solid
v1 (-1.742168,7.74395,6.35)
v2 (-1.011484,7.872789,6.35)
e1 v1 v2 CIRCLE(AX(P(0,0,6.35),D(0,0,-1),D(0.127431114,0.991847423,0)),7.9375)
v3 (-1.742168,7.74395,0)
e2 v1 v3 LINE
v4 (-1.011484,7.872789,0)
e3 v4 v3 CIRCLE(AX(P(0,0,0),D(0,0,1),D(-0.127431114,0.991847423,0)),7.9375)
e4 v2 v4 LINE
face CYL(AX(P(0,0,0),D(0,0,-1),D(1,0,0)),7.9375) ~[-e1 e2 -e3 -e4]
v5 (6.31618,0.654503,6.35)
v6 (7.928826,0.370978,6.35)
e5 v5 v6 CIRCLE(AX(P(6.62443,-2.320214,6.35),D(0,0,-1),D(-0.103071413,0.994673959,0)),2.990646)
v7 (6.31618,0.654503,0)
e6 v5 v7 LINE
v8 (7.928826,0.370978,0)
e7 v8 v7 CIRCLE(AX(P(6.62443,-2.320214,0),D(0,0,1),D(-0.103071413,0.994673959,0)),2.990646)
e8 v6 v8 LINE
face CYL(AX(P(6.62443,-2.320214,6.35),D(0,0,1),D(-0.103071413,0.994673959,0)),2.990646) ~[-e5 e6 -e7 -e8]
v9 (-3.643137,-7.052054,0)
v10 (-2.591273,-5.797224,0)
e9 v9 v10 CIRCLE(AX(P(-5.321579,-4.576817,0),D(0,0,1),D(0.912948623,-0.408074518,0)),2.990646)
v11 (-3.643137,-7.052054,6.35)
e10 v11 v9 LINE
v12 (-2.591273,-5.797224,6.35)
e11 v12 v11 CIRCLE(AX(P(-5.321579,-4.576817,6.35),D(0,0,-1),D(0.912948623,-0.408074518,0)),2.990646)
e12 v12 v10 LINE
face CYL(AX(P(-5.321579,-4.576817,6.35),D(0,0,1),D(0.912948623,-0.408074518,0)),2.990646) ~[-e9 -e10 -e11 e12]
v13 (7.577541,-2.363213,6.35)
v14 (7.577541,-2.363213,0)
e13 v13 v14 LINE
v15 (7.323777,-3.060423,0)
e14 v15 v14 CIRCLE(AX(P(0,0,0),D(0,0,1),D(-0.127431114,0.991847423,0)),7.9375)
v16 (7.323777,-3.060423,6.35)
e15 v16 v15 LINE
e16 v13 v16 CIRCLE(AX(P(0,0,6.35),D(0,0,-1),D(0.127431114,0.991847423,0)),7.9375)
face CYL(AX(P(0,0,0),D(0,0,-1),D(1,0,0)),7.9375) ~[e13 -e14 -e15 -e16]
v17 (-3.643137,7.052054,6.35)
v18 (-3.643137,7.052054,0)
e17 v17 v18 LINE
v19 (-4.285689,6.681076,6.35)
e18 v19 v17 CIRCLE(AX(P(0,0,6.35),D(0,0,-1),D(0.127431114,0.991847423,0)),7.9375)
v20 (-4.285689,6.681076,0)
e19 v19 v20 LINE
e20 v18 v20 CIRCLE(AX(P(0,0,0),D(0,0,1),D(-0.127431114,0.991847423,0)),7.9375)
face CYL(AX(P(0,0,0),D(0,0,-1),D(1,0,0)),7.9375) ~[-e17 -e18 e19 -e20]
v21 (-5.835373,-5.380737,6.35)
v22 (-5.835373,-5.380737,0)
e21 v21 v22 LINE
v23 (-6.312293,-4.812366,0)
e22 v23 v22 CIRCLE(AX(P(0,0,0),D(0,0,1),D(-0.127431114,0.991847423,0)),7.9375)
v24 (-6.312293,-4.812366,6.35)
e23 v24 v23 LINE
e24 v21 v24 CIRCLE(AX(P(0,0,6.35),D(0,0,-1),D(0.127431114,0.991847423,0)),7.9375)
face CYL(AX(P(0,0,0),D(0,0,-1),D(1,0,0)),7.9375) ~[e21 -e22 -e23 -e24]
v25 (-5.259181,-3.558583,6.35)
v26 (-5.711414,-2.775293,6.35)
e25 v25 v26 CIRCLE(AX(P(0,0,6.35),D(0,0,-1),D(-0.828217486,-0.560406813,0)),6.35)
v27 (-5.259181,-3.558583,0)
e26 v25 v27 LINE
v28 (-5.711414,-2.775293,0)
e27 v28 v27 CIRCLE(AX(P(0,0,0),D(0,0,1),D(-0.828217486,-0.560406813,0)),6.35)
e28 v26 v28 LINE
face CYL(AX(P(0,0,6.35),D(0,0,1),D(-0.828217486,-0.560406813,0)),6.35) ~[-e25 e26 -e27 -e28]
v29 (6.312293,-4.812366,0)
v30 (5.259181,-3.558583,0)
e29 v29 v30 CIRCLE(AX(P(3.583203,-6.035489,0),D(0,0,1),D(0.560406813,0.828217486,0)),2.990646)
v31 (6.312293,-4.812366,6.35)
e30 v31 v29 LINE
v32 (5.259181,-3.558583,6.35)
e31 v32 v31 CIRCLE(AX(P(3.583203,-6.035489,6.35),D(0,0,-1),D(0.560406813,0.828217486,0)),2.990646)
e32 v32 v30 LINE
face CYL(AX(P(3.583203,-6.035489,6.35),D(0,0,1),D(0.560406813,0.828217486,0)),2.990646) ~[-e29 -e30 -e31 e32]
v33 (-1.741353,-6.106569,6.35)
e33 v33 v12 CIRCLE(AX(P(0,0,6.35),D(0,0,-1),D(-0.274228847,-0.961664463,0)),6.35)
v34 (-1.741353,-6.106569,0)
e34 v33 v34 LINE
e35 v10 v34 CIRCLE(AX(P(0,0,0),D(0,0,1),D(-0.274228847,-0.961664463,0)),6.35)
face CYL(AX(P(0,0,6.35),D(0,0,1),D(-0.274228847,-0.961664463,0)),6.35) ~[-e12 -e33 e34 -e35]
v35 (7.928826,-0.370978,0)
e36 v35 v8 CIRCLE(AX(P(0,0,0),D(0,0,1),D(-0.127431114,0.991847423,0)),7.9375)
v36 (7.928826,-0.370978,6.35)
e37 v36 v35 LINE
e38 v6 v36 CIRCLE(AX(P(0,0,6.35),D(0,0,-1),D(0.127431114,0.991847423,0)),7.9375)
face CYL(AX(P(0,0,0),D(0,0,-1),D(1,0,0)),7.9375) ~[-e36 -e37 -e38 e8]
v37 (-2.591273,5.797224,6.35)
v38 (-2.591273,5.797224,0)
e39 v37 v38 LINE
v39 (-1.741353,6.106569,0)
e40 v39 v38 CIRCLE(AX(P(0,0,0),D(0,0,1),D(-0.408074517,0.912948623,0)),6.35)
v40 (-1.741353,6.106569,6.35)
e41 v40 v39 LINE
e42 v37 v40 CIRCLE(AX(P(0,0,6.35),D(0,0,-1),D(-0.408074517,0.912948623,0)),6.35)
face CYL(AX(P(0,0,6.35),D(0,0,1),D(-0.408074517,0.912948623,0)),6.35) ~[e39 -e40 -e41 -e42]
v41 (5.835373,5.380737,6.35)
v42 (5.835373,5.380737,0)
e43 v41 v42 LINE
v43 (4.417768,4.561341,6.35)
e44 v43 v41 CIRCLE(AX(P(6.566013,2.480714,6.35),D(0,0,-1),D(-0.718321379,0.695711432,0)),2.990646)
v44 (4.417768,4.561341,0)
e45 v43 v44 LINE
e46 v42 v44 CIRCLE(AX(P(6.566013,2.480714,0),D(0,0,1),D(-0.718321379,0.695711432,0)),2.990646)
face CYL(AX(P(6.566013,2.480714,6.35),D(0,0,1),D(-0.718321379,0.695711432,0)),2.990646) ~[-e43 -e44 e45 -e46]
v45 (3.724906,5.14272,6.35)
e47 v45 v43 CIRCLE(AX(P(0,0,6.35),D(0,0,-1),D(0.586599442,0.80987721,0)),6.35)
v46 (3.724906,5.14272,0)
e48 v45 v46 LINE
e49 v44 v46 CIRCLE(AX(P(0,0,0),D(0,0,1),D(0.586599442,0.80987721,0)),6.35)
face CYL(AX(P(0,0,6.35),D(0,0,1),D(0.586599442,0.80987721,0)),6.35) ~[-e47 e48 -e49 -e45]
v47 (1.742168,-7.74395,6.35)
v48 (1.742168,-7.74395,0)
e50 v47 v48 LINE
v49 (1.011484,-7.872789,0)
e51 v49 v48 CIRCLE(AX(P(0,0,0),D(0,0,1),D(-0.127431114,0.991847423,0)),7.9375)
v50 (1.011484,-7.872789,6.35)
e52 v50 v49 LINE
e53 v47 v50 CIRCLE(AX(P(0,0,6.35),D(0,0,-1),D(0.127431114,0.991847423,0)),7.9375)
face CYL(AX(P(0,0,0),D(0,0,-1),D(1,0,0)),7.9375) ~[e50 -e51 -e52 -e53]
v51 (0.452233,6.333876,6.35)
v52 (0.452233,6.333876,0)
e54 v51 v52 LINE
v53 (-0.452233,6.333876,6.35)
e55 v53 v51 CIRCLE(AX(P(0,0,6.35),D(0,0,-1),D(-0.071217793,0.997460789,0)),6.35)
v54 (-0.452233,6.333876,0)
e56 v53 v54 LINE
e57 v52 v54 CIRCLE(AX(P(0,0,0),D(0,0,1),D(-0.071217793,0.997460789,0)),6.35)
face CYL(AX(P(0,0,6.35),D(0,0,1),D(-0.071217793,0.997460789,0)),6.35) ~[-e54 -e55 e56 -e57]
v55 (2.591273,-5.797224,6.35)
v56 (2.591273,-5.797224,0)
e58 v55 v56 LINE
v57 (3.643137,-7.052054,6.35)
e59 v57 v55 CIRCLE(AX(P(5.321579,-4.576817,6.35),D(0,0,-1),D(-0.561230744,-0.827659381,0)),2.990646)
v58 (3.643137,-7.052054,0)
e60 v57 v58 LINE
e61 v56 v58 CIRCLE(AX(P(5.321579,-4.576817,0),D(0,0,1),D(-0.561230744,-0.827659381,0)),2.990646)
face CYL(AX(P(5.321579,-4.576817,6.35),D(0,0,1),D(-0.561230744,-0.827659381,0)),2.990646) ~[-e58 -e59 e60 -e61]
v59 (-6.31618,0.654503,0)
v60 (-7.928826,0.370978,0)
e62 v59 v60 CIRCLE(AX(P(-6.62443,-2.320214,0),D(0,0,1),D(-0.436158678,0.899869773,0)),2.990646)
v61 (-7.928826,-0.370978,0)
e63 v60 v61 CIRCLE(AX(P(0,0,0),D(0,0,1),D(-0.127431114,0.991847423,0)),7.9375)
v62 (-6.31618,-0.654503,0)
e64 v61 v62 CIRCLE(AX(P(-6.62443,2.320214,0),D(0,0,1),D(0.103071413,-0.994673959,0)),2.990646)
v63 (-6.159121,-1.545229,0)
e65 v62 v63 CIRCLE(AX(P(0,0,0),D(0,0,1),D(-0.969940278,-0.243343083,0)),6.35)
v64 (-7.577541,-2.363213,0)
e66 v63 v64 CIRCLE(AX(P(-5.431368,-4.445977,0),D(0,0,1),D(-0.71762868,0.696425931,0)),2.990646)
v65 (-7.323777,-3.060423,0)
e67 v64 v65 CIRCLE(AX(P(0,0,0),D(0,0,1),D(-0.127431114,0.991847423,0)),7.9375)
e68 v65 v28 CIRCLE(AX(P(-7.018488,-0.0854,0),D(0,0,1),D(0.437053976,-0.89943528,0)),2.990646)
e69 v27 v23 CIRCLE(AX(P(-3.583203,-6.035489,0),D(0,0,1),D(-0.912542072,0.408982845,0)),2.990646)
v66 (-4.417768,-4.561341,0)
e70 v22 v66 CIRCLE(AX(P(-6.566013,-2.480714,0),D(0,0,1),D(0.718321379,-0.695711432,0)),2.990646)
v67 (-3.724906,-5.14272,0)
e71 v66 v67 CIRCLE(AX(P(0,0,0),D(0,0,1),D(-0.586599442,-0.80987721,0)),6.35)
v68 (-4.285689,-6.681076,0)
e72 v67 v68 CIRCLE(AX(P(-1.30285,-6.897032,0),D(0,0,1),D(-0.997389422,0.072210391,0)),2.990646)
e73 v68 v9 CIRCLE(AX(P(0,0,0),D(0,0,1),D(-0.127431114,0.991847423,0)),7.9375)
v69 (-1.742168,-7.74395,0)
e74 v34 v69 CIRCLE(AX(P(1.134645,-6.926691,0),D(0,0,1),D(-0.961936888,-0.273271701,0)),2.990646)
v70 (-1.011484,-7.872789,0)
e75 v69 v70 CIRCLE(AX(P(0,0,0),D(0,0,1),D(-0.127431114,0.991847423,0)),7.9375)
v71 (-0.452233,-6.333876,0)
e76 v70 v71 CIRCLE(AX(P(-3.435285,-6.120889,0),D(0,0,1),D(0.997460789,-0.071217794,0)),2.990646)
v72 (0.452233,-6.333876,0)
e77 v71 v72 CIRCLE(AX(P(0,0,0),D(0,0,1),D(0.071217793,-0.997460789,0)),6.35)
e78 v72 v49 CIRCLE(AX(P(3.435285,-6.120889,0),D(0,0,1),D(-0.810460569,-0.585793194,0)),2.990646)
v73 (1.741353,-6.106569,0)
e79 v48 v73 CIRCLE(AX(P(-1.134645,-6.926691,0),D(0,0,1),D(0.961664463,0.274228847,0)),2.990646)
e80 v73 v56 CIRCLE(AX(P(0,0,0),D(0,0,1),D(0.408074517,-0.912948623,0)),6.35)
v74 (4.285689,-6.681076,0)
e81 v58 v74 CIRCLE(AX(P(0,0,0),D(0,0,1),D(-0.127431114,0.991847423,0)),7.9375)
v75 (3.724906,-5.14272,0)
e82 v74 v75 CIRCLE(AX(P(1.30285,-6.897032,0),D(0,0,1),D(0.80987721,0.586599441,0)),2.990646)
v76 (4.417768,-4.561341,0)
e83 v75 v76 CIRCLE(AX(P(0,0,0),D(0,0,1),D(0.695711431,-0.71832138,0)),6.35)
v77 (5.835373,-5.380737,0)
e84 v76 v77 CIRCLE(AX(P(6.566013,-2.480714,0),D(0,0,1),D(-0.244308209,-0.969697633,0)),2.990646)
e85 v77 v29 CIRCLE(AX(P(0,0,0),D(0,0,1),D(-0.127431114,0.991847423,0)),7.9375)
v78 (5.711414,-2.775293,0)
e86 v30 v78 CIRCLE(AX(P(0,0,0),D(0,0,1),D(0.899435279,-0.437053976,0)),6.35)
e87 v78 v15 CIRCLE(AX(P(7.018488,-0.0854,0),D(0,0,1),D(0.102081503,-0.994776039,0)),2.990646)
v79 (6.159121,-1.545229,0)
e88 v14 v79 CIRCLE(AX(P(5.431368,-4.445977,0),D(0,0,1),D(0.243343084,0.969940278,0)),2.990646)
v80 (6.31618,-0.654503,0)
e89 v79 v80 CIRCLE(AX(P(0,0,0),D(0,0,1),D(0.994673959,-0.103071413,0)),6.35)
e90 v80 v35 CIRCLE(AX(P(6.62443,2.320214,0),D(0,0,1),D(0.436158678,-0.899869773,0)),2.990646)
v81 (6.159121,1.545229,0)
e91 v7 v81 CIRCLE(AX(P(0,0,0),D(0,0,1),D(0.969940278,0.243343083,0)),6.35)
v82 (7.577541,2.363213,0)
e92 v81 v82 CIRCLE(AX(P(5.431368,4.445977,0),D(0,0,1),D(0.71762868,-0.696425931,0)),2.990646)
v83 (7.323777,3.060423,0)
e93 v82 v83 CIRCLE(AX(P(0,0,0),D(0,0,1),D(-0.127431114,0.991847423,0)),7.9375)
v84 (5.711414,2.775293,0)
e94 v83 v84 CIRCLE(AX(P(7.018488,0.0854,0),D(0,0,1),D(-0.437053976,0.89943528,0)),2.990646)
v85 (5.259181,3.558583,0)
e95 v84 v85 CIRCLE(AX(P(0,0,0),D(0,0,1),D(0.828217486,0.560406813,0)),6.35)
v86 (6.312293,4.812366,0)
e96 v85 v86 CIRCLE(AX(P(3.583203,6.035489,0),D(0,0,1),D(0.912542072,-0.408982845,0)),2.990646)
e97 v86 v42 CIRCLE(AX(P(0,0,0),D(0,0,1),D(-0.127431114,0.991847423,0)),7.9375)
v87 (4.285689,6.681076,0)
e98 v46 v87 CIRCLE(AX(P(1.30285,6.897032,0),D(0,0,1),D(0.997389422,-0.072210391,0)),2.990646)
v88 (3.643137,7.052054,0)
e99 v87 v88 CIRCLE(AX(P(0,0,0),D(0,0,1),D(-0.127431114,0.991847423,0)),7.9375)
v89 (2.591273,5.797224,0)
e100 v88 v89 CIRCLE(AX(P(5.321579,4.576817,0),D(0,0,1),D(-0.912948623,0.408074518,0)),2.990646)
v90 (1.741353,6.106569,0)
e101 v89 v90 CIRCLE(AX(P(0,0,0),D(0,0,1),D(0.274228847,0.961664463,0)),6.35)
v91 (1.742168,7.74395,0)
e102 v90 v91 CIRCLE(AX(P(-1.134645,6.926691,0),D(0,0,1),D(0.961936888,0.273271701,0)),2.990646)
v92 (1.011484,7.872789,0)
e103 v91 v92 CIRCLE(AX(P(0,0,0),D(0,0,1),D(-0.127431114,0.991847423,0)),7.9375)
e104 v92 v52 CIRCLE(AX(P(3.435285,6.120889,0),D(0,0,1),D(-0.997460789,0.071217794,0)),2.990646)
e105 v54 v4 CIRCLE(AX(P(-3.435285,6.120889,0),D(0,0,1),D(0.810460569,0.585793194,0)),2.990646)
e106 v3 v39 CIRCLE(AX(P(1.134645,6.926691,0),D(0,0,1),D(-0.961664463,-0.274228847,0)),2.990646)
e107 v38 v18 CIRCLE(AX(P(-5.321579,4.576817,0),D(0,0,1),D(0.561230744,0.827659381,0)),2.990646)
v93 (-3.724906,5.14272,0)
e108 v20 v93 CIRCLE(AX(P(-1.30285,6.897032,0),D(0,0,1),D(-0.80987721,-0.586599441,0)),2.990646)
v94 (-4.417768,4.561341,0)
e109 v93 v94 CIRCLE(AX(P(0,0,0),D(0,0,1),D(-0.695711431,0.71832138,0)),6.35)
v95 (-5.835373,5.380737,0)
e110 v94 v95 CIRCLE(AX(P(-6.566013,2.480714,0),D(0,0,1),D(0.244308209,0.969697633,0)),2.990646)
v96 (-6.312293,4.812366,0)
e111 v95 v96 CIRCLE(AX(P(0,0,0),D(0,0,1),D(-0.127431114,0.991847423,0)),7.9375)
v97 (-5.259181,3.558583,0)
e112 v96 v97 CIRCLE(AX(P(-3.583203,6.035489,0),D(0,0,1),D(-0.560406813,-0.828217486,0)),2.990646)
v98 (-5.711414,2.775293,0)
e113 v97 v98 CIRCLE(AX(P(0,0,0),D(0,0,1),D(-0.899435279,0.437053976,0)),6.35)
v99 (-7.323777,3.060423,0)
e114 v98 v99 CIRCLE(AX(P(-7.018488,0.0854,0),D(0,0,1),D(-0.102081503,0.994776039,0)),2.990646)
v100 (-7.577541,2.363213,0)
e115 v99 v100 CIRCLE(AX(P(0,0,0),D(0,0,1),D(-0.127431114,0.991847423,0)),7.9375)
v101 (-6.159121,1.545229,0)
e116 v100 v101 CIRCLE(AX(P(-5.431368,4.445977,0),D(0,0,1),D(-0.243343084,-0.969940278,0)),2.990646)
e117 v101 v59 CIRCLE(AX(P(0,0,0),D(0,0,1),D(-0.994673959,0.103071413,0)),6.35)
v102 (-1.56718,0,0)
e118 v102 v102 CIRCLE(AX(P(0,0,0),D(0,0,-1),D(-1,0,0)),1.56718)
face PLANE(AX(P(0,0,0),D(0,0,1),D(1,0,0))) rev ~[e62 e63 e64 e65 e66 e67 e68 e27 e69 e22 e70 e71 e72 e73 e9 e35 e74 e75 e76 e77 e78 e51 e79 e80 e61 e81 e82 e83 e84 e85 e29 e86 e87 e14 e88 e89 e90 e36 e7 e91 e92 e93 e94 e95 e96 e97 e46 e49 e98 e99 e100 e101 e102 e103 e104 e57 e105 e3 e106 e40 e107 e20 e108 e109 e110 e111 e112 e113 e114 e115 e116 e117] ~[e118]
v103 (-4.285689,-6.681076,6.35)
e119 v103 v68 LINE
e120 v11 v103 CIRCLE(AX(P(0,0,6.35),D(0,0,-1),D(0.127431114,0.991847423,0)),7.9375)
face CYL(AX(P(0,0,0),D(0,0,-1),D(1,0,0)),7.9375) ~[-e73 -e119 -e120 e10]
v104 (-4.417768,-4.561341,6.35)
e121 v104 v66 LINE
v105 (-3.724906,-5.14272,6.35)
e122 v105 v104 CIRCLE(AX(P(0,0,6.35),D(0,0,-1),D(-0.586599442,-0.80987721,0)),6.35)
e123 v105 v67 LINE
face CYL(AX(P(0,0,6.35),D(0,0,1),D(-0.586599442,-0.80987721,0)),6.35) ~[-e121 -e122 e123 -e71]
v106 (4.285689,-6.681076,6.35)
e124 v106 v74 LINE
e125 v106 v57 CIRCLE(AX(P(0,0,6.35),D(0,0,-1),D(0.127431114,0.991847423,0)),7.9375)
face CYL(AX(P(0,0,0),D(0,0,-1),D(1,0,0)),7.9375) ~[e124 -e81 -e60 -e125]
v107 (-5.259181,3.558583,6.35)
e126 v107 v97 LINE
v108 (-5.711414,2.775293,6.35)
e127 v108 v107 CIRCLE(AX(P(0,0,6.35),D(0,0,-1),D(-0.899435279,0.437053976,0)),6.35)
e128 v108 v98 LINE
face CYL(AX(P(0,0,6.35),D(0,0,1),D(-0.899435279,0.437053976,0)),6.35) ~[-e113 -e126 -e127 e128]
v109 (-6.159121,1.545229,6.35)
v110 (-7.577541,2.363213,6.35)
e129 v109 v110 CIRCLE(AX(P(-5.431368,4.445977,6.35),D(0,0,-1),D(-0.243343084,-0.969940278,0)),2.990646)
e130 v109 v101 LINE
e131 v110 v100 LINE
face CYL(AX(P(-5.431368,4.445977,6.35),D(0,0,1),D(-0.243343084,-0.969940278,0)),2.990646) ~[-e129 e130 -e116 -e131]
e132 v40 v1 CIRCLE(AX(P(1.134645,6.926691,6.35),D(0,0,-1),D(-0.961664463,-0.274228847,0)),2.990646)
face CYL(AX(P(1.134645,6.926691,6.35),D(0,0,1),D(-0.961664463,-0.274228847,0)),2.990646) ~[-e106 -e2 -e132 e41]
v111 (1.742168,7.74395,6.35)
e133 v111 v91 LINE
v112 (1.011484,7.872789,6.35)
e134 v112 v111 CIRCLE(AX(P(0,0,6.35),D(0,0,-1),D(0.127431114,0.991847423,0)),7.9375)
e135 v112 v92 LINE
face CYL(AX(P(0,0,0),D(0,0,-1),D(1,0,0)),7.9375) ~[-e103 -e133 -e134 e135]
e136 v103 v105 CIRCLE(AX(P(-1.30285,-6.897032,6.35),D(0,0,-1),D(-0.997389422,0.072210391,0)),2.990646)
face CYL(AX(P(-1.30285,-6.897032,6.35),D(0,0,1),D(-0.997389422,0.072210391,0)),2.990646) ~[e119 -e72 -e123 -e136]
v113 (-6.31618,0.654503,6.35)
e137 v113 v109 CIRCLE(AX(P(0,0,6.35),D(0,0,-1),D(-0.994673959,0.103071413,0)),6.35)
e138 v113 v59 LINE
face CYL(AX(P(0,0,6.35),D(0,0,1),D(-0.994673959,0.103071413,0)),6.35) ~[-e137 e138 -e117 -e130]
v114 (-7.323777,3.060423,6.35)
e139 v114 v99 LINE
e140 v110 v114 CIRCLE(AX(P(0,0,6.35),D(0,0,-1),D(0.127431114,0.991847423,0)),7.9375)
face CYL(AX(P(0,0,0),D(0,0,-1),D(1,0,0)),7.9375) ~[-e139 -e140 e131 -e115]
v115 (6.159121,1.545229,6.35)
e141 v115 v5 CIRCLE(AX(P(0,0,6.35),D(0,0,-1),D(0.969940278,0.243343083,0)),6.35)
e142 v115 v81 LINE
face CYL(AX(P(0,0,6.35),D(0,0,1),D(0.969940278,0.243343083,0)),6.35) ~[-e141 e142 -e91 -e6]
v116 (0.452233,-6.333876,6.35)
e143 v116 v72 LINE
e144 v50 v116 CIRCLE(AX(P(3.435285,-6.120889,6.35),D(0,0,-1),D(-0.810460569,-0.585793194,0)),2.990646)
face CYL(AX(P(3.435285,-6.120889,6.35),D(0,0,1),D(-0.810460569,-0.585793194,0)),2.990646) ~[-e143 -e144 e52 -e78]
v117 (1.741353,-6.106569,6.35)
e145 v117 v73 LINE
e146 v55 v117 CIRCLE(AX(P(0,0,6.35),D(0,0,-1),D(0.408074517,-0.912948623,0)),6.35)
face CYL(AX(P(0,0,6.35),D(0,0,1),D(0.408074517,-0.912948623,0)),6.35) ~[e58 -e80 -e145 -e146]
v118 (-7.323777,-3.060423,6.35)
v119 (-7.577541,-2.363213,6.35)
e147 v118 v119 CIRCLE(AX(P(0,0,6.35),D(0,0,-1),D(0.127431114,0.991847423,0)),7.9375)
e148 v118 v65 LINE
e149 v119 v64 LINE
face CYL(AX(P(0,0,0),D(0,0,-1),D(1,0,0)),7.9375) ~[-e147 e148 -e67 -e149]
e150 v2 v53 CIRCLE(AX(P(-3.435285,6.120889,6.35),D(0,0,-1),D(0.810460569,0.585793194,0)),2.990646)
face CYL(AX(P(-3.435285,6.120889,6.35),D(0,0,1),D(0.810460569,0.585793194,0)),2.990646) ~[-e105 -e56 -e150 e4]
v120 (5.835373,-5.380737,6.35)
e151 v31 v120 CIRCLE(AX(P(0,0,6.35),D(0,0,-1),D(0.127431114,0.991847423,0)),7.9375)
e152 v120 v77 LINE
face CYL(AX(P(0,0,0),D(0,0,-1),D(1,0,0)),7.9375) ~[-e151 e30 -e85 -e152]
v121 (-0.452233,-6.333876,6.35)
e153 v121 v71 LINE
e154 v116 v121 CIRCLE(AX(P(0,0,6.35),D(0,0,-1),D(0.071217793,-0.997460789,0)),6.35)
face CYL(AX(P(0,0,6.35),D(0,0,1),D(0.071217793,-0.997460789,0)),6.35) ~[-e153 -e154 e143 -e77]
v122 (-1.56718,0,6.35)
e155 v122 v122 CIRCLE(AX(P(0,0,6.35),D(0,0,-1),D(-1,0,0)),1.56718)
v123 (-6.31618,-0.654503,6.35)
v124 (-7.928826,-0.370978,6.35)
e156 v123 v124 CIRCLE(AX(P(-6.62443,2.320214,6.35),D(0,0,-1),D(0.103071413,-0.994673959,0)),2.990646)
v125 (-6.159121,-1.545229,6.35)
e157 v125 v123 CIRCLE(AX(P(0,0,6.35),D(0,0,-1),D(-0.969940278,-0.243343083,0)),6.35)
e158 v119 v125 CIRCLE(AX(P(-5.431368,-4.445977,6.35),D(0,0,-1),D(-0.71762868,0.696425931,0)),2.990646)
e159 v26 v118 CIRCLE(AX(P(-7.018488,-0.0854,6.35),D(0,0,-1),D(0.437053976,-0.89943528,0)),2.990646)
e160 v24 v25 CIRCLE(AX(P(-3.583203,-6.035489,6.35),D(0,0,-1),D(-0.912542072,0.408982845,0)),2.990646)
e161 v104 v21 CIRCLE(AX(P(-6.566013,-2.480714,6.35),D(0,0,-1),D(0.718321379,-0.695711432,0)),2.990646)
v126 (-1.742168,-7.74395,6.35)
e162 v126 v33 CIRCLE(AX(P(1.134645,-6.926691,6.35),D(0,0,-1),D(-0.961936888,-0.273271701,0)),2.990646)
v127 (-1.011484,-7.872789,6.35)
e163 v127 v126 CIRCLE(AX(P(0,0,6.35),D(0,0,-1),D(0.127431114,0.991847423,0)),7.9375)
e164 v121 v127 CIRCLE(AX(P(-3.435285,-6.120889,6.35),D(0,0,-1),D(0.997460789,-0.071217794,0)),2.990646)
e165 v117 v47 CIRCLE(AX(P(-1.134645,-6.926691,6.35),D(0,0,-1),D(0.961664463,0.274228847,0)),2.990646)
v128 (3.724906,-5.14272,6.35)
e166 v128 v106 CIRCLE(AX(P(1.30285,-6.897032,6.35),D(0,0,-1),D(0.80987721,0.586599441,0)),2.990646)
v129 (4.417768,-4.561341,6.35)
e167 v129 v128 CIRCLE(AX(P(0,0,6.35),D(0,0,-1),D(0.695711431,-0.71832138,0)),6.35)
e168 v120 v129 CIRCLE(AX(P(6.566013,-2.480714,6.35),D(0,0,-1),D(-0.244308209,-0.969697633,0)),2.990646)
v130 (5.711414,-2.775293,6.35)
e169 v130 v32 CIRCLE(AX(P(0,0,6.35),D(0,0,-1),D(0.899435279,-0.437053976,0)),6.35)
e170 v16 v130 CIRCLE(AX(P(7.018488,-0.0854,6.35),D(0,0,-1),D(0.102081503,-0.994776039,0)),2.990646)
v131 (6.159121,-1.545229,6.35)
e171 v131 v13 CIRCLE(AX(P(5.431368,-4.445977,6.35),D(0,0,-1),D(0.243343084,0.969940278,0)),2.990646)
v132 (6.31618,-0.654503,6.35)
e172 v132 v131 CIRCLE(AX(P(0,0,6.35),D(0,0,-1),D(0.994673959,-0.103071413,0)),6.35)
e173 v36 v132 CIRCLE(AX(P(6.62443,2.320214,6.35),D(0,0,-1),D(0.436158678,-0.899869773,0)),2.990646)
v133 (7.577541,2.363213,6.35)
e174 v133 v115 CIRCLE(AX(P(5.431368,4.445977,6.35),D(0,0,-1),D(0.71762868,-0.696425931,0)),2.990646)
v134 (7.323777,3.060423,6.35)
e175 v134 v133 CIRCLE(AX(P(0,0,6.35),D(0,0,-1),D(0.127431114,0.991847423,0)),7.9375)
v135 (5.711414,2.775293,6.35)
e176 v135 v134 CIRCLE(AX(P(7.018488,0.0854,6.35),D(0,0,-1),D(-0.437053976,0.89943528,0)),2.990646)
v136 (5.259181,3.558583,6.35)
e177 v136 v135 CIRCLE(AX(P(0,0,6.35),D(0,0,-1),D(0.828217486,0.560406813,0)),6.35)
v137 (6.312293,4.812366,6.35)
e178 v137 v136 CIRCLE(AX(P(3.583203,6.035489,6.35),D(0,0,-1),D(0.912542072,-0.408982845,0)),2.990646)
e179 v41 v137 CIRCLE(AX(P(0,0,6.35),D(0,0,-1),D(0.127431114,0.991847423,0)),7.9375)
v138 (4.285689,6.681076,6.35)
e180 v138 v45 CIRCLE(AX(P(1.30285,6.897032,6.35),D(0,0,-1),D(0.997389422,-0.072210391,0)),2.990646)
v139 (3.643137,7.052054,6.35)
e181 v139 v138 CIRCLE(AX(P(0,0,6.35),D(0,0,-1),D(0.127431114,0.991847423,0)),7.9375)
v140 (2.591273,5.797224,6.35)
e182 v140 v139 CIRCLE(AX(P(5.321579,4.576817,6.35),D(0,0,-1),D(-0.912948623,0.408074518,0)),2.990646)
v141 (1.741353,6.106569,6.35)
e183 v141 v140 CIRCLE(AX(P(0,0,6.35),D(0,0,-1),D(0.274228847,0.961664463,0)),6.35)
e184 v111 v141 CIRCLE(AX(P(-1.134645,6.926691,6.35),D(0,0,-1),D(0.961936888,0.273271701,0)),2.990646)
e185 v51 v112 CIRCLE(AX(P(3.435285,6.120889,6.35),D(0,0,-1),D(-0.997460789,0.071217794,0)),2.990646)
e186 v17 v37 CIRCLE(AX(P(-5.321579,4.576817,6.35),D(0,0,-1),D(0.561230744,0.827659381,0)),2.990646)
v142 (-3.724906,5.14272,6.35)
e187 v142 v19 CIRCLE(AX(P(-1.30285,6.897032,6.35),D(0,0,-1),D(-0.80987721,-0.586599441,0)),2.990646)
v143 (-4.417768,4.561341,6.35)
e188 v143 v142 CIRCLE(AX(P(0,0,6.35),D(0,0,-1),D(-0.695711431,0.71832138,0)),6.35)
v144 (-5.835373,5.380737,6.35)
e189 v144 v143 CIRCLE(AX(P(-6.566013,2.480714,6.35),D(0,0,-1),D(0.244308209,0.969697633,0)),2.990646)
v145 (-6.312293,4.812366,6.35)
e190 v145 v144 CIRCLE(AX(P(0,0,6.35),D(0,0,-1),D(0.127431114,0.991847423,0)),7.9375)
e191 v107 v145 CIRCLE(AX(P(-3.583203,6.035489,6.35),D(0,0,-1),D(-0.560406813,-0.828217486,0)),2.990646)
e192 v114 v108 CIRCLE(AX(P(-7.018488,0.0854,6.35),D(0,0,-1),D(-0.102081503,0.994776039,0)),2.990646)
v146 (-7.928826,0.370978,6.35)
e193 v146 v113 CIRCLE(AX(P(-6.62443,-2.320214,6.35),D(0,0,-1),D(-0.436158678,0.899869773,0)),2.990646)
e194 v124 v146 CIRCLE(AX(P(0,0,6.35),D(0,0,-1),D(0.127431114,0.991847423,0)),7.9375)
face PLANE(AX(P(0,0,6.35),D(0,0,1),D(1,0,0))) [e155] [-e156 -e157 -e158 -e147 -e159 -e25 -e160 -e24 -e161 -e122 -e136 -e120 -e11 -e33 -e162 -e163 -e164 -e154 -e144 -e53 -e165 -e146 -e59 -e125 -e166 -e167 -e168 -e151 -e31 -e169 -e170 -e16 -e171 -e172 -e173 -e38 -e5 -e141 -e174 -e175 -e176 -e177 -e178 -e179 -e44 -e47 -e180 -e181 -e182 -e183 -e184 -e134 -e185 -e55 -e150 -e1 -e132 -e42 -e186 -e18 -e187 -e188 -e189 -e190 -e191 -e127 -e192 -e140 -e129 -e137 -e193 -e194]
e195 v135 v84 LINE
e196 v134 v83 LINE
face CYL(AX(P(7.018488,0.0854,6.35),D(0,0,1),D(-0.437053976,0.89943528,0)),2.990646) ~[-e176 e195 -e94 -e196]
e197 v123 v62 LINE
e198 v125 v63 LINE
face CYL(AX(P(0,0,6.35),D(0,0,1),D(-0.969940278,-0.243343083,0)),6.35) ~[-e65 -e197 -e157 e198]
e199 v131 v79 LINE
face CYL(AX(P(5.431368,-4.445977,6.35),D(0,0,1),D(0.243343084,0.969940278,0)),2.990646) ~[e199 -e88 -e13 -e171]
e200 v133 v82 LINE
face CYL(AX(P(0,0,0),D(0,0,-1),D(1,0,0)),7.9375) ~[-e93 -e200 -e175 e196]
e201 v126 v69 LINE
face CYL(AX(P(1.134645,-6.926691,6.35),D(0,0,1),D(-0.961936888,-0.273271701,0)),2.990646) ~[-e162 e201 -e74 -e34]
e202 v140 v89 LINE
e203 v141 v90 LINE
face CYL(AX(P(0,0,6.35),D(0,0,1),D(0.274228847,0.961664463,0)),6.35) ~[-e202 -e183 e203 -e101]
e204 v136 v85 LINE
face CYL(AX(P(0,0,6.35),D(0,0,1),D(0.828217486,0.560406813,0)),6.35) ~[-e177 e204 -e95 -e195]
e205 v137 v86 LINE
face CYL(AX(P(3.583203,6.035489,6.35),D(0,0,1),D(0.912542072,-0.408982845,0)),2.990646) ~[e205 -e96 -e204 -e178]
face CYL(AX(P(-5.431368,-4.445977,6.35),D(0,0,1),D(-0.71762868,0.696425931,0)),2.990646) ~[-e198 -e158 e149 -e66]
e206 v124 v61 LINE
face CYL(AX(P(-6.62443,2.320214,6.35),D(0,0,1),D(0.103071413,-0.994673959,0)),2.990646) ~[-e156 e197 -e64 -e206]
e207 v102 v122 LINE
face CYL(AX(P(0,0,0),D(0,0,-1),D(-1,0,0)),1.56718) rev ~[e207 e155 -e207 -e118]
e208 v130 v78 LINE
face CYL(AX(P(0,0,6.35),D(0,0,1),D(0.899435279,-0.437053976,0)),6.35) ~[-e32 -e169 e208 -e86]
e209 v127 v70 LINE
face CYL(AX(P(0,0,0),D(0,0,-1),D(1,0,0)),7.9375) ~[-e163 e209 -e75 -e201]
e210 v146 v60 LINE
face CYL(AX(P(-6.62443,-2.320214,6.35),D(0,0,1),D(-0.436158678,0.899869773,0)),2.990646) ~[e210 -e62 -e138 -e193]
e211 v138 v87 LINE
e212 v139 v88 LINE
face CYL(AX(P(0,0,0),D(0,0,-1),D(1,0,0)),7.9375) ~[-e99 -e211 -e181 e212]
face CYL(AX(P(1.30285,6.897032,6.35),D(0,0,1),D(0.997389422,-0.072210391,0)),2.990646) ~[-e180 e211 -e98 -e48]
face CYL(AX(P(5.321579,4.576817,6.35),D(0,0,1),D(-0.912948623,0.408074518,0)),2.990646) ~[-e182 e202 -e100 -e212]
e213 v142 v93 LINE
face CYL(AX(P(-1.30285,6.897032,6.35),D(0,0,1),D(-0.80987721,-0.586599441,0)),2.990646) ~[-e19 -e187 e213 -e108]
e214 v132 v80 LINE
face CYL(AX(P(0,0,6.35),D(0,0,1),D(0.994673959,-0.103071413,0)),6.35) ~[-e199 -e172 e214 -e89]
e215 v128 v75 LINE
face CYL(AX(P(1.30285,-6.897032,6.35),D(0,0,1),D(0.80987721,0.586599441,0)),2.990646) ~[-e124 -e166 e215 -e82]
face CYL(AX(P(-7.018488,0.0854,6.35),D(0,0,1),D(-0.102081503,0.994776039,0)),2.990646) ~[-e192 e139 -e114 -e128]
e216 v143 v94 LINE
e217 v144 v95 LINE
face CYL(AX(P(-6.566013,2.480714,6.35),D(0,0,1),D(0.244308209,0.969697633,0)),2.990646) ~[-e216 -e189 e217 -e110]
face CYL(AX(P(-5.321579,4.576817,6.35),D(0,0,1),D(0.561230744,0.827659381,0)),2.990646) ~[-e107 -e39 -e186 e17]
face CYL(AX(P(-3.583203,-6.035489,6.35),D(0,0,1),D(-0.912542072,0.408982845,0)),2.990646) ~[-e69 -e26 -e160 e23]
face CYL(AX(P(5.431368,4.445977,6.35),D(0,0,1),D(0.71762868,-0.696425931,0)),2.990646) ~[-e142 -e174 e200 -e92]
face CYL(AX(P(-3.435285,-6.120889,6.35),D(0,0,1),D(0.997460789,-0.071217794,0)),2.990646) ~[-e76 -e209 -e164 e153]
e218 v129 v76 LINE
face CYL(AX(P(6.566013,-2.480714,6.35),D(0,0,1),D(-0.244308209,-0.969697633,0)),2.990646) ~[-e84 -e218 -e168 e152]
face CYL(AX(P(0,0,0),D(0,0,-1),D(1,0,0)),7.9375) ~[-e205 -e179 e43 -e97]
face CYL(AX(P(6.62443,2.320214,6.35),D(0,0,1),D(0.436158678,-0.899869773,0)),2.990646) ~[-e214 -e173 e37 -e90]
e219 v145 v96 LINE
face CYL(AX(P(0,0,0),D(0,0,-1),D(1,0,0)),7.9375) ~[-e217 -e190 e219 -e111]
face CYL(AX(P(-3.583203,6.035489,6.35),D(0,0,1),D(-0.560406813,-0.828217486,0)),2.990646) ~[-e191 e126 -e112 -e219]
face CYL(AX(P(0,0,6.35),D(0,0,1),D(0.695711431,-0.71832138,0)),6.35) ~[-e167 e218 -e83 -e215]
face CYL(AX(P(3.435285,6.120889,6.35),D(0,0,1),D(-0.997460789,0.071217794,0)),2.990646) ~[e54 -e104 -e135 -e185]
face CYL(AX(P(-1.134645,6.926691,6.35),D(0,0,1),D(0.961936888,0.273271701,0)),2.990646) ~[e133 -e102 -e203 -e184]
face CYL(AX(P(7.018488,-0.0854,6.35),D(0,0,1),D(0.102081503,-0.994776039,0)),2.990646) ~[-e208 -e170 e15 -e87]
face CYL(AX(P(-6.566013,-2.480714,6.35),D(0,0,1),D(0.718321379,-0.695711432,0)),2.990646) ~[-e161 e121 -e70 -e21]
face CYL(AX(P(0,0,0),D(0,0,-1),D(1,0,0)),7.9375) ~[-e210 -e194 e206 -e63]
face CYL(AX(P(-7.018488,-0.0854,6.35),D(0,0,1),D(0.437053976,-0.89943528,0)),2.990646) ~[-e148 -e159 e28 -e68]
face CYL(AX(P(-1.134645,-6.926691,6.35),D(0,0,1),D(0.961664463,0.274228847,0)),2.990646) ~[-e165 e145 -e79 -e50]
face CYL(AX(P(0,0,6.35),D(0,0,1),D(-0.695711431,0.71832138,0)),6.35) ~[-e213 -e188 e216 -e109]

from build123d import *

# Parameters (mm, degrees)
SKETCH1_R           = 7.9375
OUTER_CIRCLE_DEPTH  = 6.35
TOOTH_CUT_DEPTH     = 13.896910967
TEETH_PATTERN_COUNT = 18
SKETCH3_R           = 1.56718
CUT_EXTRUDE1_DEPTH  = 13.857185215


with BuildPart() as part:
    # Sketch1 → Outer Circle (new body)
    with BuildSketch(Plane.XY):
        Circle(SKETCH1_R)
    extrude(amount=OUTER_CIRCLE_DEPTH)

    # Sketch2 → Tooth Cut (cut, through all)
    with BuildSketch(Plane.XY.offset(6.35)):
        with BuildLine():
            ThreePointArc((-0.452232993, 6.333876011), (0, 6.35), (0.452232993, 6.333876011))
            ThreePointArc((0.452232993, 6.333876011), (0.624488533, 7.142351531), (1.011484471, 7.872788922))
            ThreePointArc((1.011484471, 7.872788922), (0, 7.9375), (-1.011484471, 7.872788922))
            ThreePointArc((-1.011484471, 7.872788922), (-0.624488533, 7.142351531), (-0.452232993, 6.333876011))
        make_face()
    tooth_cut = extrude(amount=-TOOTH_CUT_DEPTH, mode=Mode.SUBTRACT)

    # Teeth Pattern: Tooth Cut ×18 about axis
    teeth_pattern_axis = Axis((0, 0, 0), (0, 0, 1))
    for i in range(1, TEETH_PATTERN_COUNT):
        add(tooth_cut.rotate(teeth_pattern_axis, i * 360 / TEETH_PATTERN_COUNT), mode=Mode.SUBTRACT)

    # Sketch3 → Cut-Extrude1 (cut, through all)
    with BuildSketch(Plane(origin=(0, 0, 0), x_dir=(-1, 0, 0), z_dir=(0, 0, -1))):
        Circle(SKETCH3_R)
    extrude(amount=-CUT_EXTRUDE1_DEPTH, mode=Mode.SUBTRACT)


solid = part.part
